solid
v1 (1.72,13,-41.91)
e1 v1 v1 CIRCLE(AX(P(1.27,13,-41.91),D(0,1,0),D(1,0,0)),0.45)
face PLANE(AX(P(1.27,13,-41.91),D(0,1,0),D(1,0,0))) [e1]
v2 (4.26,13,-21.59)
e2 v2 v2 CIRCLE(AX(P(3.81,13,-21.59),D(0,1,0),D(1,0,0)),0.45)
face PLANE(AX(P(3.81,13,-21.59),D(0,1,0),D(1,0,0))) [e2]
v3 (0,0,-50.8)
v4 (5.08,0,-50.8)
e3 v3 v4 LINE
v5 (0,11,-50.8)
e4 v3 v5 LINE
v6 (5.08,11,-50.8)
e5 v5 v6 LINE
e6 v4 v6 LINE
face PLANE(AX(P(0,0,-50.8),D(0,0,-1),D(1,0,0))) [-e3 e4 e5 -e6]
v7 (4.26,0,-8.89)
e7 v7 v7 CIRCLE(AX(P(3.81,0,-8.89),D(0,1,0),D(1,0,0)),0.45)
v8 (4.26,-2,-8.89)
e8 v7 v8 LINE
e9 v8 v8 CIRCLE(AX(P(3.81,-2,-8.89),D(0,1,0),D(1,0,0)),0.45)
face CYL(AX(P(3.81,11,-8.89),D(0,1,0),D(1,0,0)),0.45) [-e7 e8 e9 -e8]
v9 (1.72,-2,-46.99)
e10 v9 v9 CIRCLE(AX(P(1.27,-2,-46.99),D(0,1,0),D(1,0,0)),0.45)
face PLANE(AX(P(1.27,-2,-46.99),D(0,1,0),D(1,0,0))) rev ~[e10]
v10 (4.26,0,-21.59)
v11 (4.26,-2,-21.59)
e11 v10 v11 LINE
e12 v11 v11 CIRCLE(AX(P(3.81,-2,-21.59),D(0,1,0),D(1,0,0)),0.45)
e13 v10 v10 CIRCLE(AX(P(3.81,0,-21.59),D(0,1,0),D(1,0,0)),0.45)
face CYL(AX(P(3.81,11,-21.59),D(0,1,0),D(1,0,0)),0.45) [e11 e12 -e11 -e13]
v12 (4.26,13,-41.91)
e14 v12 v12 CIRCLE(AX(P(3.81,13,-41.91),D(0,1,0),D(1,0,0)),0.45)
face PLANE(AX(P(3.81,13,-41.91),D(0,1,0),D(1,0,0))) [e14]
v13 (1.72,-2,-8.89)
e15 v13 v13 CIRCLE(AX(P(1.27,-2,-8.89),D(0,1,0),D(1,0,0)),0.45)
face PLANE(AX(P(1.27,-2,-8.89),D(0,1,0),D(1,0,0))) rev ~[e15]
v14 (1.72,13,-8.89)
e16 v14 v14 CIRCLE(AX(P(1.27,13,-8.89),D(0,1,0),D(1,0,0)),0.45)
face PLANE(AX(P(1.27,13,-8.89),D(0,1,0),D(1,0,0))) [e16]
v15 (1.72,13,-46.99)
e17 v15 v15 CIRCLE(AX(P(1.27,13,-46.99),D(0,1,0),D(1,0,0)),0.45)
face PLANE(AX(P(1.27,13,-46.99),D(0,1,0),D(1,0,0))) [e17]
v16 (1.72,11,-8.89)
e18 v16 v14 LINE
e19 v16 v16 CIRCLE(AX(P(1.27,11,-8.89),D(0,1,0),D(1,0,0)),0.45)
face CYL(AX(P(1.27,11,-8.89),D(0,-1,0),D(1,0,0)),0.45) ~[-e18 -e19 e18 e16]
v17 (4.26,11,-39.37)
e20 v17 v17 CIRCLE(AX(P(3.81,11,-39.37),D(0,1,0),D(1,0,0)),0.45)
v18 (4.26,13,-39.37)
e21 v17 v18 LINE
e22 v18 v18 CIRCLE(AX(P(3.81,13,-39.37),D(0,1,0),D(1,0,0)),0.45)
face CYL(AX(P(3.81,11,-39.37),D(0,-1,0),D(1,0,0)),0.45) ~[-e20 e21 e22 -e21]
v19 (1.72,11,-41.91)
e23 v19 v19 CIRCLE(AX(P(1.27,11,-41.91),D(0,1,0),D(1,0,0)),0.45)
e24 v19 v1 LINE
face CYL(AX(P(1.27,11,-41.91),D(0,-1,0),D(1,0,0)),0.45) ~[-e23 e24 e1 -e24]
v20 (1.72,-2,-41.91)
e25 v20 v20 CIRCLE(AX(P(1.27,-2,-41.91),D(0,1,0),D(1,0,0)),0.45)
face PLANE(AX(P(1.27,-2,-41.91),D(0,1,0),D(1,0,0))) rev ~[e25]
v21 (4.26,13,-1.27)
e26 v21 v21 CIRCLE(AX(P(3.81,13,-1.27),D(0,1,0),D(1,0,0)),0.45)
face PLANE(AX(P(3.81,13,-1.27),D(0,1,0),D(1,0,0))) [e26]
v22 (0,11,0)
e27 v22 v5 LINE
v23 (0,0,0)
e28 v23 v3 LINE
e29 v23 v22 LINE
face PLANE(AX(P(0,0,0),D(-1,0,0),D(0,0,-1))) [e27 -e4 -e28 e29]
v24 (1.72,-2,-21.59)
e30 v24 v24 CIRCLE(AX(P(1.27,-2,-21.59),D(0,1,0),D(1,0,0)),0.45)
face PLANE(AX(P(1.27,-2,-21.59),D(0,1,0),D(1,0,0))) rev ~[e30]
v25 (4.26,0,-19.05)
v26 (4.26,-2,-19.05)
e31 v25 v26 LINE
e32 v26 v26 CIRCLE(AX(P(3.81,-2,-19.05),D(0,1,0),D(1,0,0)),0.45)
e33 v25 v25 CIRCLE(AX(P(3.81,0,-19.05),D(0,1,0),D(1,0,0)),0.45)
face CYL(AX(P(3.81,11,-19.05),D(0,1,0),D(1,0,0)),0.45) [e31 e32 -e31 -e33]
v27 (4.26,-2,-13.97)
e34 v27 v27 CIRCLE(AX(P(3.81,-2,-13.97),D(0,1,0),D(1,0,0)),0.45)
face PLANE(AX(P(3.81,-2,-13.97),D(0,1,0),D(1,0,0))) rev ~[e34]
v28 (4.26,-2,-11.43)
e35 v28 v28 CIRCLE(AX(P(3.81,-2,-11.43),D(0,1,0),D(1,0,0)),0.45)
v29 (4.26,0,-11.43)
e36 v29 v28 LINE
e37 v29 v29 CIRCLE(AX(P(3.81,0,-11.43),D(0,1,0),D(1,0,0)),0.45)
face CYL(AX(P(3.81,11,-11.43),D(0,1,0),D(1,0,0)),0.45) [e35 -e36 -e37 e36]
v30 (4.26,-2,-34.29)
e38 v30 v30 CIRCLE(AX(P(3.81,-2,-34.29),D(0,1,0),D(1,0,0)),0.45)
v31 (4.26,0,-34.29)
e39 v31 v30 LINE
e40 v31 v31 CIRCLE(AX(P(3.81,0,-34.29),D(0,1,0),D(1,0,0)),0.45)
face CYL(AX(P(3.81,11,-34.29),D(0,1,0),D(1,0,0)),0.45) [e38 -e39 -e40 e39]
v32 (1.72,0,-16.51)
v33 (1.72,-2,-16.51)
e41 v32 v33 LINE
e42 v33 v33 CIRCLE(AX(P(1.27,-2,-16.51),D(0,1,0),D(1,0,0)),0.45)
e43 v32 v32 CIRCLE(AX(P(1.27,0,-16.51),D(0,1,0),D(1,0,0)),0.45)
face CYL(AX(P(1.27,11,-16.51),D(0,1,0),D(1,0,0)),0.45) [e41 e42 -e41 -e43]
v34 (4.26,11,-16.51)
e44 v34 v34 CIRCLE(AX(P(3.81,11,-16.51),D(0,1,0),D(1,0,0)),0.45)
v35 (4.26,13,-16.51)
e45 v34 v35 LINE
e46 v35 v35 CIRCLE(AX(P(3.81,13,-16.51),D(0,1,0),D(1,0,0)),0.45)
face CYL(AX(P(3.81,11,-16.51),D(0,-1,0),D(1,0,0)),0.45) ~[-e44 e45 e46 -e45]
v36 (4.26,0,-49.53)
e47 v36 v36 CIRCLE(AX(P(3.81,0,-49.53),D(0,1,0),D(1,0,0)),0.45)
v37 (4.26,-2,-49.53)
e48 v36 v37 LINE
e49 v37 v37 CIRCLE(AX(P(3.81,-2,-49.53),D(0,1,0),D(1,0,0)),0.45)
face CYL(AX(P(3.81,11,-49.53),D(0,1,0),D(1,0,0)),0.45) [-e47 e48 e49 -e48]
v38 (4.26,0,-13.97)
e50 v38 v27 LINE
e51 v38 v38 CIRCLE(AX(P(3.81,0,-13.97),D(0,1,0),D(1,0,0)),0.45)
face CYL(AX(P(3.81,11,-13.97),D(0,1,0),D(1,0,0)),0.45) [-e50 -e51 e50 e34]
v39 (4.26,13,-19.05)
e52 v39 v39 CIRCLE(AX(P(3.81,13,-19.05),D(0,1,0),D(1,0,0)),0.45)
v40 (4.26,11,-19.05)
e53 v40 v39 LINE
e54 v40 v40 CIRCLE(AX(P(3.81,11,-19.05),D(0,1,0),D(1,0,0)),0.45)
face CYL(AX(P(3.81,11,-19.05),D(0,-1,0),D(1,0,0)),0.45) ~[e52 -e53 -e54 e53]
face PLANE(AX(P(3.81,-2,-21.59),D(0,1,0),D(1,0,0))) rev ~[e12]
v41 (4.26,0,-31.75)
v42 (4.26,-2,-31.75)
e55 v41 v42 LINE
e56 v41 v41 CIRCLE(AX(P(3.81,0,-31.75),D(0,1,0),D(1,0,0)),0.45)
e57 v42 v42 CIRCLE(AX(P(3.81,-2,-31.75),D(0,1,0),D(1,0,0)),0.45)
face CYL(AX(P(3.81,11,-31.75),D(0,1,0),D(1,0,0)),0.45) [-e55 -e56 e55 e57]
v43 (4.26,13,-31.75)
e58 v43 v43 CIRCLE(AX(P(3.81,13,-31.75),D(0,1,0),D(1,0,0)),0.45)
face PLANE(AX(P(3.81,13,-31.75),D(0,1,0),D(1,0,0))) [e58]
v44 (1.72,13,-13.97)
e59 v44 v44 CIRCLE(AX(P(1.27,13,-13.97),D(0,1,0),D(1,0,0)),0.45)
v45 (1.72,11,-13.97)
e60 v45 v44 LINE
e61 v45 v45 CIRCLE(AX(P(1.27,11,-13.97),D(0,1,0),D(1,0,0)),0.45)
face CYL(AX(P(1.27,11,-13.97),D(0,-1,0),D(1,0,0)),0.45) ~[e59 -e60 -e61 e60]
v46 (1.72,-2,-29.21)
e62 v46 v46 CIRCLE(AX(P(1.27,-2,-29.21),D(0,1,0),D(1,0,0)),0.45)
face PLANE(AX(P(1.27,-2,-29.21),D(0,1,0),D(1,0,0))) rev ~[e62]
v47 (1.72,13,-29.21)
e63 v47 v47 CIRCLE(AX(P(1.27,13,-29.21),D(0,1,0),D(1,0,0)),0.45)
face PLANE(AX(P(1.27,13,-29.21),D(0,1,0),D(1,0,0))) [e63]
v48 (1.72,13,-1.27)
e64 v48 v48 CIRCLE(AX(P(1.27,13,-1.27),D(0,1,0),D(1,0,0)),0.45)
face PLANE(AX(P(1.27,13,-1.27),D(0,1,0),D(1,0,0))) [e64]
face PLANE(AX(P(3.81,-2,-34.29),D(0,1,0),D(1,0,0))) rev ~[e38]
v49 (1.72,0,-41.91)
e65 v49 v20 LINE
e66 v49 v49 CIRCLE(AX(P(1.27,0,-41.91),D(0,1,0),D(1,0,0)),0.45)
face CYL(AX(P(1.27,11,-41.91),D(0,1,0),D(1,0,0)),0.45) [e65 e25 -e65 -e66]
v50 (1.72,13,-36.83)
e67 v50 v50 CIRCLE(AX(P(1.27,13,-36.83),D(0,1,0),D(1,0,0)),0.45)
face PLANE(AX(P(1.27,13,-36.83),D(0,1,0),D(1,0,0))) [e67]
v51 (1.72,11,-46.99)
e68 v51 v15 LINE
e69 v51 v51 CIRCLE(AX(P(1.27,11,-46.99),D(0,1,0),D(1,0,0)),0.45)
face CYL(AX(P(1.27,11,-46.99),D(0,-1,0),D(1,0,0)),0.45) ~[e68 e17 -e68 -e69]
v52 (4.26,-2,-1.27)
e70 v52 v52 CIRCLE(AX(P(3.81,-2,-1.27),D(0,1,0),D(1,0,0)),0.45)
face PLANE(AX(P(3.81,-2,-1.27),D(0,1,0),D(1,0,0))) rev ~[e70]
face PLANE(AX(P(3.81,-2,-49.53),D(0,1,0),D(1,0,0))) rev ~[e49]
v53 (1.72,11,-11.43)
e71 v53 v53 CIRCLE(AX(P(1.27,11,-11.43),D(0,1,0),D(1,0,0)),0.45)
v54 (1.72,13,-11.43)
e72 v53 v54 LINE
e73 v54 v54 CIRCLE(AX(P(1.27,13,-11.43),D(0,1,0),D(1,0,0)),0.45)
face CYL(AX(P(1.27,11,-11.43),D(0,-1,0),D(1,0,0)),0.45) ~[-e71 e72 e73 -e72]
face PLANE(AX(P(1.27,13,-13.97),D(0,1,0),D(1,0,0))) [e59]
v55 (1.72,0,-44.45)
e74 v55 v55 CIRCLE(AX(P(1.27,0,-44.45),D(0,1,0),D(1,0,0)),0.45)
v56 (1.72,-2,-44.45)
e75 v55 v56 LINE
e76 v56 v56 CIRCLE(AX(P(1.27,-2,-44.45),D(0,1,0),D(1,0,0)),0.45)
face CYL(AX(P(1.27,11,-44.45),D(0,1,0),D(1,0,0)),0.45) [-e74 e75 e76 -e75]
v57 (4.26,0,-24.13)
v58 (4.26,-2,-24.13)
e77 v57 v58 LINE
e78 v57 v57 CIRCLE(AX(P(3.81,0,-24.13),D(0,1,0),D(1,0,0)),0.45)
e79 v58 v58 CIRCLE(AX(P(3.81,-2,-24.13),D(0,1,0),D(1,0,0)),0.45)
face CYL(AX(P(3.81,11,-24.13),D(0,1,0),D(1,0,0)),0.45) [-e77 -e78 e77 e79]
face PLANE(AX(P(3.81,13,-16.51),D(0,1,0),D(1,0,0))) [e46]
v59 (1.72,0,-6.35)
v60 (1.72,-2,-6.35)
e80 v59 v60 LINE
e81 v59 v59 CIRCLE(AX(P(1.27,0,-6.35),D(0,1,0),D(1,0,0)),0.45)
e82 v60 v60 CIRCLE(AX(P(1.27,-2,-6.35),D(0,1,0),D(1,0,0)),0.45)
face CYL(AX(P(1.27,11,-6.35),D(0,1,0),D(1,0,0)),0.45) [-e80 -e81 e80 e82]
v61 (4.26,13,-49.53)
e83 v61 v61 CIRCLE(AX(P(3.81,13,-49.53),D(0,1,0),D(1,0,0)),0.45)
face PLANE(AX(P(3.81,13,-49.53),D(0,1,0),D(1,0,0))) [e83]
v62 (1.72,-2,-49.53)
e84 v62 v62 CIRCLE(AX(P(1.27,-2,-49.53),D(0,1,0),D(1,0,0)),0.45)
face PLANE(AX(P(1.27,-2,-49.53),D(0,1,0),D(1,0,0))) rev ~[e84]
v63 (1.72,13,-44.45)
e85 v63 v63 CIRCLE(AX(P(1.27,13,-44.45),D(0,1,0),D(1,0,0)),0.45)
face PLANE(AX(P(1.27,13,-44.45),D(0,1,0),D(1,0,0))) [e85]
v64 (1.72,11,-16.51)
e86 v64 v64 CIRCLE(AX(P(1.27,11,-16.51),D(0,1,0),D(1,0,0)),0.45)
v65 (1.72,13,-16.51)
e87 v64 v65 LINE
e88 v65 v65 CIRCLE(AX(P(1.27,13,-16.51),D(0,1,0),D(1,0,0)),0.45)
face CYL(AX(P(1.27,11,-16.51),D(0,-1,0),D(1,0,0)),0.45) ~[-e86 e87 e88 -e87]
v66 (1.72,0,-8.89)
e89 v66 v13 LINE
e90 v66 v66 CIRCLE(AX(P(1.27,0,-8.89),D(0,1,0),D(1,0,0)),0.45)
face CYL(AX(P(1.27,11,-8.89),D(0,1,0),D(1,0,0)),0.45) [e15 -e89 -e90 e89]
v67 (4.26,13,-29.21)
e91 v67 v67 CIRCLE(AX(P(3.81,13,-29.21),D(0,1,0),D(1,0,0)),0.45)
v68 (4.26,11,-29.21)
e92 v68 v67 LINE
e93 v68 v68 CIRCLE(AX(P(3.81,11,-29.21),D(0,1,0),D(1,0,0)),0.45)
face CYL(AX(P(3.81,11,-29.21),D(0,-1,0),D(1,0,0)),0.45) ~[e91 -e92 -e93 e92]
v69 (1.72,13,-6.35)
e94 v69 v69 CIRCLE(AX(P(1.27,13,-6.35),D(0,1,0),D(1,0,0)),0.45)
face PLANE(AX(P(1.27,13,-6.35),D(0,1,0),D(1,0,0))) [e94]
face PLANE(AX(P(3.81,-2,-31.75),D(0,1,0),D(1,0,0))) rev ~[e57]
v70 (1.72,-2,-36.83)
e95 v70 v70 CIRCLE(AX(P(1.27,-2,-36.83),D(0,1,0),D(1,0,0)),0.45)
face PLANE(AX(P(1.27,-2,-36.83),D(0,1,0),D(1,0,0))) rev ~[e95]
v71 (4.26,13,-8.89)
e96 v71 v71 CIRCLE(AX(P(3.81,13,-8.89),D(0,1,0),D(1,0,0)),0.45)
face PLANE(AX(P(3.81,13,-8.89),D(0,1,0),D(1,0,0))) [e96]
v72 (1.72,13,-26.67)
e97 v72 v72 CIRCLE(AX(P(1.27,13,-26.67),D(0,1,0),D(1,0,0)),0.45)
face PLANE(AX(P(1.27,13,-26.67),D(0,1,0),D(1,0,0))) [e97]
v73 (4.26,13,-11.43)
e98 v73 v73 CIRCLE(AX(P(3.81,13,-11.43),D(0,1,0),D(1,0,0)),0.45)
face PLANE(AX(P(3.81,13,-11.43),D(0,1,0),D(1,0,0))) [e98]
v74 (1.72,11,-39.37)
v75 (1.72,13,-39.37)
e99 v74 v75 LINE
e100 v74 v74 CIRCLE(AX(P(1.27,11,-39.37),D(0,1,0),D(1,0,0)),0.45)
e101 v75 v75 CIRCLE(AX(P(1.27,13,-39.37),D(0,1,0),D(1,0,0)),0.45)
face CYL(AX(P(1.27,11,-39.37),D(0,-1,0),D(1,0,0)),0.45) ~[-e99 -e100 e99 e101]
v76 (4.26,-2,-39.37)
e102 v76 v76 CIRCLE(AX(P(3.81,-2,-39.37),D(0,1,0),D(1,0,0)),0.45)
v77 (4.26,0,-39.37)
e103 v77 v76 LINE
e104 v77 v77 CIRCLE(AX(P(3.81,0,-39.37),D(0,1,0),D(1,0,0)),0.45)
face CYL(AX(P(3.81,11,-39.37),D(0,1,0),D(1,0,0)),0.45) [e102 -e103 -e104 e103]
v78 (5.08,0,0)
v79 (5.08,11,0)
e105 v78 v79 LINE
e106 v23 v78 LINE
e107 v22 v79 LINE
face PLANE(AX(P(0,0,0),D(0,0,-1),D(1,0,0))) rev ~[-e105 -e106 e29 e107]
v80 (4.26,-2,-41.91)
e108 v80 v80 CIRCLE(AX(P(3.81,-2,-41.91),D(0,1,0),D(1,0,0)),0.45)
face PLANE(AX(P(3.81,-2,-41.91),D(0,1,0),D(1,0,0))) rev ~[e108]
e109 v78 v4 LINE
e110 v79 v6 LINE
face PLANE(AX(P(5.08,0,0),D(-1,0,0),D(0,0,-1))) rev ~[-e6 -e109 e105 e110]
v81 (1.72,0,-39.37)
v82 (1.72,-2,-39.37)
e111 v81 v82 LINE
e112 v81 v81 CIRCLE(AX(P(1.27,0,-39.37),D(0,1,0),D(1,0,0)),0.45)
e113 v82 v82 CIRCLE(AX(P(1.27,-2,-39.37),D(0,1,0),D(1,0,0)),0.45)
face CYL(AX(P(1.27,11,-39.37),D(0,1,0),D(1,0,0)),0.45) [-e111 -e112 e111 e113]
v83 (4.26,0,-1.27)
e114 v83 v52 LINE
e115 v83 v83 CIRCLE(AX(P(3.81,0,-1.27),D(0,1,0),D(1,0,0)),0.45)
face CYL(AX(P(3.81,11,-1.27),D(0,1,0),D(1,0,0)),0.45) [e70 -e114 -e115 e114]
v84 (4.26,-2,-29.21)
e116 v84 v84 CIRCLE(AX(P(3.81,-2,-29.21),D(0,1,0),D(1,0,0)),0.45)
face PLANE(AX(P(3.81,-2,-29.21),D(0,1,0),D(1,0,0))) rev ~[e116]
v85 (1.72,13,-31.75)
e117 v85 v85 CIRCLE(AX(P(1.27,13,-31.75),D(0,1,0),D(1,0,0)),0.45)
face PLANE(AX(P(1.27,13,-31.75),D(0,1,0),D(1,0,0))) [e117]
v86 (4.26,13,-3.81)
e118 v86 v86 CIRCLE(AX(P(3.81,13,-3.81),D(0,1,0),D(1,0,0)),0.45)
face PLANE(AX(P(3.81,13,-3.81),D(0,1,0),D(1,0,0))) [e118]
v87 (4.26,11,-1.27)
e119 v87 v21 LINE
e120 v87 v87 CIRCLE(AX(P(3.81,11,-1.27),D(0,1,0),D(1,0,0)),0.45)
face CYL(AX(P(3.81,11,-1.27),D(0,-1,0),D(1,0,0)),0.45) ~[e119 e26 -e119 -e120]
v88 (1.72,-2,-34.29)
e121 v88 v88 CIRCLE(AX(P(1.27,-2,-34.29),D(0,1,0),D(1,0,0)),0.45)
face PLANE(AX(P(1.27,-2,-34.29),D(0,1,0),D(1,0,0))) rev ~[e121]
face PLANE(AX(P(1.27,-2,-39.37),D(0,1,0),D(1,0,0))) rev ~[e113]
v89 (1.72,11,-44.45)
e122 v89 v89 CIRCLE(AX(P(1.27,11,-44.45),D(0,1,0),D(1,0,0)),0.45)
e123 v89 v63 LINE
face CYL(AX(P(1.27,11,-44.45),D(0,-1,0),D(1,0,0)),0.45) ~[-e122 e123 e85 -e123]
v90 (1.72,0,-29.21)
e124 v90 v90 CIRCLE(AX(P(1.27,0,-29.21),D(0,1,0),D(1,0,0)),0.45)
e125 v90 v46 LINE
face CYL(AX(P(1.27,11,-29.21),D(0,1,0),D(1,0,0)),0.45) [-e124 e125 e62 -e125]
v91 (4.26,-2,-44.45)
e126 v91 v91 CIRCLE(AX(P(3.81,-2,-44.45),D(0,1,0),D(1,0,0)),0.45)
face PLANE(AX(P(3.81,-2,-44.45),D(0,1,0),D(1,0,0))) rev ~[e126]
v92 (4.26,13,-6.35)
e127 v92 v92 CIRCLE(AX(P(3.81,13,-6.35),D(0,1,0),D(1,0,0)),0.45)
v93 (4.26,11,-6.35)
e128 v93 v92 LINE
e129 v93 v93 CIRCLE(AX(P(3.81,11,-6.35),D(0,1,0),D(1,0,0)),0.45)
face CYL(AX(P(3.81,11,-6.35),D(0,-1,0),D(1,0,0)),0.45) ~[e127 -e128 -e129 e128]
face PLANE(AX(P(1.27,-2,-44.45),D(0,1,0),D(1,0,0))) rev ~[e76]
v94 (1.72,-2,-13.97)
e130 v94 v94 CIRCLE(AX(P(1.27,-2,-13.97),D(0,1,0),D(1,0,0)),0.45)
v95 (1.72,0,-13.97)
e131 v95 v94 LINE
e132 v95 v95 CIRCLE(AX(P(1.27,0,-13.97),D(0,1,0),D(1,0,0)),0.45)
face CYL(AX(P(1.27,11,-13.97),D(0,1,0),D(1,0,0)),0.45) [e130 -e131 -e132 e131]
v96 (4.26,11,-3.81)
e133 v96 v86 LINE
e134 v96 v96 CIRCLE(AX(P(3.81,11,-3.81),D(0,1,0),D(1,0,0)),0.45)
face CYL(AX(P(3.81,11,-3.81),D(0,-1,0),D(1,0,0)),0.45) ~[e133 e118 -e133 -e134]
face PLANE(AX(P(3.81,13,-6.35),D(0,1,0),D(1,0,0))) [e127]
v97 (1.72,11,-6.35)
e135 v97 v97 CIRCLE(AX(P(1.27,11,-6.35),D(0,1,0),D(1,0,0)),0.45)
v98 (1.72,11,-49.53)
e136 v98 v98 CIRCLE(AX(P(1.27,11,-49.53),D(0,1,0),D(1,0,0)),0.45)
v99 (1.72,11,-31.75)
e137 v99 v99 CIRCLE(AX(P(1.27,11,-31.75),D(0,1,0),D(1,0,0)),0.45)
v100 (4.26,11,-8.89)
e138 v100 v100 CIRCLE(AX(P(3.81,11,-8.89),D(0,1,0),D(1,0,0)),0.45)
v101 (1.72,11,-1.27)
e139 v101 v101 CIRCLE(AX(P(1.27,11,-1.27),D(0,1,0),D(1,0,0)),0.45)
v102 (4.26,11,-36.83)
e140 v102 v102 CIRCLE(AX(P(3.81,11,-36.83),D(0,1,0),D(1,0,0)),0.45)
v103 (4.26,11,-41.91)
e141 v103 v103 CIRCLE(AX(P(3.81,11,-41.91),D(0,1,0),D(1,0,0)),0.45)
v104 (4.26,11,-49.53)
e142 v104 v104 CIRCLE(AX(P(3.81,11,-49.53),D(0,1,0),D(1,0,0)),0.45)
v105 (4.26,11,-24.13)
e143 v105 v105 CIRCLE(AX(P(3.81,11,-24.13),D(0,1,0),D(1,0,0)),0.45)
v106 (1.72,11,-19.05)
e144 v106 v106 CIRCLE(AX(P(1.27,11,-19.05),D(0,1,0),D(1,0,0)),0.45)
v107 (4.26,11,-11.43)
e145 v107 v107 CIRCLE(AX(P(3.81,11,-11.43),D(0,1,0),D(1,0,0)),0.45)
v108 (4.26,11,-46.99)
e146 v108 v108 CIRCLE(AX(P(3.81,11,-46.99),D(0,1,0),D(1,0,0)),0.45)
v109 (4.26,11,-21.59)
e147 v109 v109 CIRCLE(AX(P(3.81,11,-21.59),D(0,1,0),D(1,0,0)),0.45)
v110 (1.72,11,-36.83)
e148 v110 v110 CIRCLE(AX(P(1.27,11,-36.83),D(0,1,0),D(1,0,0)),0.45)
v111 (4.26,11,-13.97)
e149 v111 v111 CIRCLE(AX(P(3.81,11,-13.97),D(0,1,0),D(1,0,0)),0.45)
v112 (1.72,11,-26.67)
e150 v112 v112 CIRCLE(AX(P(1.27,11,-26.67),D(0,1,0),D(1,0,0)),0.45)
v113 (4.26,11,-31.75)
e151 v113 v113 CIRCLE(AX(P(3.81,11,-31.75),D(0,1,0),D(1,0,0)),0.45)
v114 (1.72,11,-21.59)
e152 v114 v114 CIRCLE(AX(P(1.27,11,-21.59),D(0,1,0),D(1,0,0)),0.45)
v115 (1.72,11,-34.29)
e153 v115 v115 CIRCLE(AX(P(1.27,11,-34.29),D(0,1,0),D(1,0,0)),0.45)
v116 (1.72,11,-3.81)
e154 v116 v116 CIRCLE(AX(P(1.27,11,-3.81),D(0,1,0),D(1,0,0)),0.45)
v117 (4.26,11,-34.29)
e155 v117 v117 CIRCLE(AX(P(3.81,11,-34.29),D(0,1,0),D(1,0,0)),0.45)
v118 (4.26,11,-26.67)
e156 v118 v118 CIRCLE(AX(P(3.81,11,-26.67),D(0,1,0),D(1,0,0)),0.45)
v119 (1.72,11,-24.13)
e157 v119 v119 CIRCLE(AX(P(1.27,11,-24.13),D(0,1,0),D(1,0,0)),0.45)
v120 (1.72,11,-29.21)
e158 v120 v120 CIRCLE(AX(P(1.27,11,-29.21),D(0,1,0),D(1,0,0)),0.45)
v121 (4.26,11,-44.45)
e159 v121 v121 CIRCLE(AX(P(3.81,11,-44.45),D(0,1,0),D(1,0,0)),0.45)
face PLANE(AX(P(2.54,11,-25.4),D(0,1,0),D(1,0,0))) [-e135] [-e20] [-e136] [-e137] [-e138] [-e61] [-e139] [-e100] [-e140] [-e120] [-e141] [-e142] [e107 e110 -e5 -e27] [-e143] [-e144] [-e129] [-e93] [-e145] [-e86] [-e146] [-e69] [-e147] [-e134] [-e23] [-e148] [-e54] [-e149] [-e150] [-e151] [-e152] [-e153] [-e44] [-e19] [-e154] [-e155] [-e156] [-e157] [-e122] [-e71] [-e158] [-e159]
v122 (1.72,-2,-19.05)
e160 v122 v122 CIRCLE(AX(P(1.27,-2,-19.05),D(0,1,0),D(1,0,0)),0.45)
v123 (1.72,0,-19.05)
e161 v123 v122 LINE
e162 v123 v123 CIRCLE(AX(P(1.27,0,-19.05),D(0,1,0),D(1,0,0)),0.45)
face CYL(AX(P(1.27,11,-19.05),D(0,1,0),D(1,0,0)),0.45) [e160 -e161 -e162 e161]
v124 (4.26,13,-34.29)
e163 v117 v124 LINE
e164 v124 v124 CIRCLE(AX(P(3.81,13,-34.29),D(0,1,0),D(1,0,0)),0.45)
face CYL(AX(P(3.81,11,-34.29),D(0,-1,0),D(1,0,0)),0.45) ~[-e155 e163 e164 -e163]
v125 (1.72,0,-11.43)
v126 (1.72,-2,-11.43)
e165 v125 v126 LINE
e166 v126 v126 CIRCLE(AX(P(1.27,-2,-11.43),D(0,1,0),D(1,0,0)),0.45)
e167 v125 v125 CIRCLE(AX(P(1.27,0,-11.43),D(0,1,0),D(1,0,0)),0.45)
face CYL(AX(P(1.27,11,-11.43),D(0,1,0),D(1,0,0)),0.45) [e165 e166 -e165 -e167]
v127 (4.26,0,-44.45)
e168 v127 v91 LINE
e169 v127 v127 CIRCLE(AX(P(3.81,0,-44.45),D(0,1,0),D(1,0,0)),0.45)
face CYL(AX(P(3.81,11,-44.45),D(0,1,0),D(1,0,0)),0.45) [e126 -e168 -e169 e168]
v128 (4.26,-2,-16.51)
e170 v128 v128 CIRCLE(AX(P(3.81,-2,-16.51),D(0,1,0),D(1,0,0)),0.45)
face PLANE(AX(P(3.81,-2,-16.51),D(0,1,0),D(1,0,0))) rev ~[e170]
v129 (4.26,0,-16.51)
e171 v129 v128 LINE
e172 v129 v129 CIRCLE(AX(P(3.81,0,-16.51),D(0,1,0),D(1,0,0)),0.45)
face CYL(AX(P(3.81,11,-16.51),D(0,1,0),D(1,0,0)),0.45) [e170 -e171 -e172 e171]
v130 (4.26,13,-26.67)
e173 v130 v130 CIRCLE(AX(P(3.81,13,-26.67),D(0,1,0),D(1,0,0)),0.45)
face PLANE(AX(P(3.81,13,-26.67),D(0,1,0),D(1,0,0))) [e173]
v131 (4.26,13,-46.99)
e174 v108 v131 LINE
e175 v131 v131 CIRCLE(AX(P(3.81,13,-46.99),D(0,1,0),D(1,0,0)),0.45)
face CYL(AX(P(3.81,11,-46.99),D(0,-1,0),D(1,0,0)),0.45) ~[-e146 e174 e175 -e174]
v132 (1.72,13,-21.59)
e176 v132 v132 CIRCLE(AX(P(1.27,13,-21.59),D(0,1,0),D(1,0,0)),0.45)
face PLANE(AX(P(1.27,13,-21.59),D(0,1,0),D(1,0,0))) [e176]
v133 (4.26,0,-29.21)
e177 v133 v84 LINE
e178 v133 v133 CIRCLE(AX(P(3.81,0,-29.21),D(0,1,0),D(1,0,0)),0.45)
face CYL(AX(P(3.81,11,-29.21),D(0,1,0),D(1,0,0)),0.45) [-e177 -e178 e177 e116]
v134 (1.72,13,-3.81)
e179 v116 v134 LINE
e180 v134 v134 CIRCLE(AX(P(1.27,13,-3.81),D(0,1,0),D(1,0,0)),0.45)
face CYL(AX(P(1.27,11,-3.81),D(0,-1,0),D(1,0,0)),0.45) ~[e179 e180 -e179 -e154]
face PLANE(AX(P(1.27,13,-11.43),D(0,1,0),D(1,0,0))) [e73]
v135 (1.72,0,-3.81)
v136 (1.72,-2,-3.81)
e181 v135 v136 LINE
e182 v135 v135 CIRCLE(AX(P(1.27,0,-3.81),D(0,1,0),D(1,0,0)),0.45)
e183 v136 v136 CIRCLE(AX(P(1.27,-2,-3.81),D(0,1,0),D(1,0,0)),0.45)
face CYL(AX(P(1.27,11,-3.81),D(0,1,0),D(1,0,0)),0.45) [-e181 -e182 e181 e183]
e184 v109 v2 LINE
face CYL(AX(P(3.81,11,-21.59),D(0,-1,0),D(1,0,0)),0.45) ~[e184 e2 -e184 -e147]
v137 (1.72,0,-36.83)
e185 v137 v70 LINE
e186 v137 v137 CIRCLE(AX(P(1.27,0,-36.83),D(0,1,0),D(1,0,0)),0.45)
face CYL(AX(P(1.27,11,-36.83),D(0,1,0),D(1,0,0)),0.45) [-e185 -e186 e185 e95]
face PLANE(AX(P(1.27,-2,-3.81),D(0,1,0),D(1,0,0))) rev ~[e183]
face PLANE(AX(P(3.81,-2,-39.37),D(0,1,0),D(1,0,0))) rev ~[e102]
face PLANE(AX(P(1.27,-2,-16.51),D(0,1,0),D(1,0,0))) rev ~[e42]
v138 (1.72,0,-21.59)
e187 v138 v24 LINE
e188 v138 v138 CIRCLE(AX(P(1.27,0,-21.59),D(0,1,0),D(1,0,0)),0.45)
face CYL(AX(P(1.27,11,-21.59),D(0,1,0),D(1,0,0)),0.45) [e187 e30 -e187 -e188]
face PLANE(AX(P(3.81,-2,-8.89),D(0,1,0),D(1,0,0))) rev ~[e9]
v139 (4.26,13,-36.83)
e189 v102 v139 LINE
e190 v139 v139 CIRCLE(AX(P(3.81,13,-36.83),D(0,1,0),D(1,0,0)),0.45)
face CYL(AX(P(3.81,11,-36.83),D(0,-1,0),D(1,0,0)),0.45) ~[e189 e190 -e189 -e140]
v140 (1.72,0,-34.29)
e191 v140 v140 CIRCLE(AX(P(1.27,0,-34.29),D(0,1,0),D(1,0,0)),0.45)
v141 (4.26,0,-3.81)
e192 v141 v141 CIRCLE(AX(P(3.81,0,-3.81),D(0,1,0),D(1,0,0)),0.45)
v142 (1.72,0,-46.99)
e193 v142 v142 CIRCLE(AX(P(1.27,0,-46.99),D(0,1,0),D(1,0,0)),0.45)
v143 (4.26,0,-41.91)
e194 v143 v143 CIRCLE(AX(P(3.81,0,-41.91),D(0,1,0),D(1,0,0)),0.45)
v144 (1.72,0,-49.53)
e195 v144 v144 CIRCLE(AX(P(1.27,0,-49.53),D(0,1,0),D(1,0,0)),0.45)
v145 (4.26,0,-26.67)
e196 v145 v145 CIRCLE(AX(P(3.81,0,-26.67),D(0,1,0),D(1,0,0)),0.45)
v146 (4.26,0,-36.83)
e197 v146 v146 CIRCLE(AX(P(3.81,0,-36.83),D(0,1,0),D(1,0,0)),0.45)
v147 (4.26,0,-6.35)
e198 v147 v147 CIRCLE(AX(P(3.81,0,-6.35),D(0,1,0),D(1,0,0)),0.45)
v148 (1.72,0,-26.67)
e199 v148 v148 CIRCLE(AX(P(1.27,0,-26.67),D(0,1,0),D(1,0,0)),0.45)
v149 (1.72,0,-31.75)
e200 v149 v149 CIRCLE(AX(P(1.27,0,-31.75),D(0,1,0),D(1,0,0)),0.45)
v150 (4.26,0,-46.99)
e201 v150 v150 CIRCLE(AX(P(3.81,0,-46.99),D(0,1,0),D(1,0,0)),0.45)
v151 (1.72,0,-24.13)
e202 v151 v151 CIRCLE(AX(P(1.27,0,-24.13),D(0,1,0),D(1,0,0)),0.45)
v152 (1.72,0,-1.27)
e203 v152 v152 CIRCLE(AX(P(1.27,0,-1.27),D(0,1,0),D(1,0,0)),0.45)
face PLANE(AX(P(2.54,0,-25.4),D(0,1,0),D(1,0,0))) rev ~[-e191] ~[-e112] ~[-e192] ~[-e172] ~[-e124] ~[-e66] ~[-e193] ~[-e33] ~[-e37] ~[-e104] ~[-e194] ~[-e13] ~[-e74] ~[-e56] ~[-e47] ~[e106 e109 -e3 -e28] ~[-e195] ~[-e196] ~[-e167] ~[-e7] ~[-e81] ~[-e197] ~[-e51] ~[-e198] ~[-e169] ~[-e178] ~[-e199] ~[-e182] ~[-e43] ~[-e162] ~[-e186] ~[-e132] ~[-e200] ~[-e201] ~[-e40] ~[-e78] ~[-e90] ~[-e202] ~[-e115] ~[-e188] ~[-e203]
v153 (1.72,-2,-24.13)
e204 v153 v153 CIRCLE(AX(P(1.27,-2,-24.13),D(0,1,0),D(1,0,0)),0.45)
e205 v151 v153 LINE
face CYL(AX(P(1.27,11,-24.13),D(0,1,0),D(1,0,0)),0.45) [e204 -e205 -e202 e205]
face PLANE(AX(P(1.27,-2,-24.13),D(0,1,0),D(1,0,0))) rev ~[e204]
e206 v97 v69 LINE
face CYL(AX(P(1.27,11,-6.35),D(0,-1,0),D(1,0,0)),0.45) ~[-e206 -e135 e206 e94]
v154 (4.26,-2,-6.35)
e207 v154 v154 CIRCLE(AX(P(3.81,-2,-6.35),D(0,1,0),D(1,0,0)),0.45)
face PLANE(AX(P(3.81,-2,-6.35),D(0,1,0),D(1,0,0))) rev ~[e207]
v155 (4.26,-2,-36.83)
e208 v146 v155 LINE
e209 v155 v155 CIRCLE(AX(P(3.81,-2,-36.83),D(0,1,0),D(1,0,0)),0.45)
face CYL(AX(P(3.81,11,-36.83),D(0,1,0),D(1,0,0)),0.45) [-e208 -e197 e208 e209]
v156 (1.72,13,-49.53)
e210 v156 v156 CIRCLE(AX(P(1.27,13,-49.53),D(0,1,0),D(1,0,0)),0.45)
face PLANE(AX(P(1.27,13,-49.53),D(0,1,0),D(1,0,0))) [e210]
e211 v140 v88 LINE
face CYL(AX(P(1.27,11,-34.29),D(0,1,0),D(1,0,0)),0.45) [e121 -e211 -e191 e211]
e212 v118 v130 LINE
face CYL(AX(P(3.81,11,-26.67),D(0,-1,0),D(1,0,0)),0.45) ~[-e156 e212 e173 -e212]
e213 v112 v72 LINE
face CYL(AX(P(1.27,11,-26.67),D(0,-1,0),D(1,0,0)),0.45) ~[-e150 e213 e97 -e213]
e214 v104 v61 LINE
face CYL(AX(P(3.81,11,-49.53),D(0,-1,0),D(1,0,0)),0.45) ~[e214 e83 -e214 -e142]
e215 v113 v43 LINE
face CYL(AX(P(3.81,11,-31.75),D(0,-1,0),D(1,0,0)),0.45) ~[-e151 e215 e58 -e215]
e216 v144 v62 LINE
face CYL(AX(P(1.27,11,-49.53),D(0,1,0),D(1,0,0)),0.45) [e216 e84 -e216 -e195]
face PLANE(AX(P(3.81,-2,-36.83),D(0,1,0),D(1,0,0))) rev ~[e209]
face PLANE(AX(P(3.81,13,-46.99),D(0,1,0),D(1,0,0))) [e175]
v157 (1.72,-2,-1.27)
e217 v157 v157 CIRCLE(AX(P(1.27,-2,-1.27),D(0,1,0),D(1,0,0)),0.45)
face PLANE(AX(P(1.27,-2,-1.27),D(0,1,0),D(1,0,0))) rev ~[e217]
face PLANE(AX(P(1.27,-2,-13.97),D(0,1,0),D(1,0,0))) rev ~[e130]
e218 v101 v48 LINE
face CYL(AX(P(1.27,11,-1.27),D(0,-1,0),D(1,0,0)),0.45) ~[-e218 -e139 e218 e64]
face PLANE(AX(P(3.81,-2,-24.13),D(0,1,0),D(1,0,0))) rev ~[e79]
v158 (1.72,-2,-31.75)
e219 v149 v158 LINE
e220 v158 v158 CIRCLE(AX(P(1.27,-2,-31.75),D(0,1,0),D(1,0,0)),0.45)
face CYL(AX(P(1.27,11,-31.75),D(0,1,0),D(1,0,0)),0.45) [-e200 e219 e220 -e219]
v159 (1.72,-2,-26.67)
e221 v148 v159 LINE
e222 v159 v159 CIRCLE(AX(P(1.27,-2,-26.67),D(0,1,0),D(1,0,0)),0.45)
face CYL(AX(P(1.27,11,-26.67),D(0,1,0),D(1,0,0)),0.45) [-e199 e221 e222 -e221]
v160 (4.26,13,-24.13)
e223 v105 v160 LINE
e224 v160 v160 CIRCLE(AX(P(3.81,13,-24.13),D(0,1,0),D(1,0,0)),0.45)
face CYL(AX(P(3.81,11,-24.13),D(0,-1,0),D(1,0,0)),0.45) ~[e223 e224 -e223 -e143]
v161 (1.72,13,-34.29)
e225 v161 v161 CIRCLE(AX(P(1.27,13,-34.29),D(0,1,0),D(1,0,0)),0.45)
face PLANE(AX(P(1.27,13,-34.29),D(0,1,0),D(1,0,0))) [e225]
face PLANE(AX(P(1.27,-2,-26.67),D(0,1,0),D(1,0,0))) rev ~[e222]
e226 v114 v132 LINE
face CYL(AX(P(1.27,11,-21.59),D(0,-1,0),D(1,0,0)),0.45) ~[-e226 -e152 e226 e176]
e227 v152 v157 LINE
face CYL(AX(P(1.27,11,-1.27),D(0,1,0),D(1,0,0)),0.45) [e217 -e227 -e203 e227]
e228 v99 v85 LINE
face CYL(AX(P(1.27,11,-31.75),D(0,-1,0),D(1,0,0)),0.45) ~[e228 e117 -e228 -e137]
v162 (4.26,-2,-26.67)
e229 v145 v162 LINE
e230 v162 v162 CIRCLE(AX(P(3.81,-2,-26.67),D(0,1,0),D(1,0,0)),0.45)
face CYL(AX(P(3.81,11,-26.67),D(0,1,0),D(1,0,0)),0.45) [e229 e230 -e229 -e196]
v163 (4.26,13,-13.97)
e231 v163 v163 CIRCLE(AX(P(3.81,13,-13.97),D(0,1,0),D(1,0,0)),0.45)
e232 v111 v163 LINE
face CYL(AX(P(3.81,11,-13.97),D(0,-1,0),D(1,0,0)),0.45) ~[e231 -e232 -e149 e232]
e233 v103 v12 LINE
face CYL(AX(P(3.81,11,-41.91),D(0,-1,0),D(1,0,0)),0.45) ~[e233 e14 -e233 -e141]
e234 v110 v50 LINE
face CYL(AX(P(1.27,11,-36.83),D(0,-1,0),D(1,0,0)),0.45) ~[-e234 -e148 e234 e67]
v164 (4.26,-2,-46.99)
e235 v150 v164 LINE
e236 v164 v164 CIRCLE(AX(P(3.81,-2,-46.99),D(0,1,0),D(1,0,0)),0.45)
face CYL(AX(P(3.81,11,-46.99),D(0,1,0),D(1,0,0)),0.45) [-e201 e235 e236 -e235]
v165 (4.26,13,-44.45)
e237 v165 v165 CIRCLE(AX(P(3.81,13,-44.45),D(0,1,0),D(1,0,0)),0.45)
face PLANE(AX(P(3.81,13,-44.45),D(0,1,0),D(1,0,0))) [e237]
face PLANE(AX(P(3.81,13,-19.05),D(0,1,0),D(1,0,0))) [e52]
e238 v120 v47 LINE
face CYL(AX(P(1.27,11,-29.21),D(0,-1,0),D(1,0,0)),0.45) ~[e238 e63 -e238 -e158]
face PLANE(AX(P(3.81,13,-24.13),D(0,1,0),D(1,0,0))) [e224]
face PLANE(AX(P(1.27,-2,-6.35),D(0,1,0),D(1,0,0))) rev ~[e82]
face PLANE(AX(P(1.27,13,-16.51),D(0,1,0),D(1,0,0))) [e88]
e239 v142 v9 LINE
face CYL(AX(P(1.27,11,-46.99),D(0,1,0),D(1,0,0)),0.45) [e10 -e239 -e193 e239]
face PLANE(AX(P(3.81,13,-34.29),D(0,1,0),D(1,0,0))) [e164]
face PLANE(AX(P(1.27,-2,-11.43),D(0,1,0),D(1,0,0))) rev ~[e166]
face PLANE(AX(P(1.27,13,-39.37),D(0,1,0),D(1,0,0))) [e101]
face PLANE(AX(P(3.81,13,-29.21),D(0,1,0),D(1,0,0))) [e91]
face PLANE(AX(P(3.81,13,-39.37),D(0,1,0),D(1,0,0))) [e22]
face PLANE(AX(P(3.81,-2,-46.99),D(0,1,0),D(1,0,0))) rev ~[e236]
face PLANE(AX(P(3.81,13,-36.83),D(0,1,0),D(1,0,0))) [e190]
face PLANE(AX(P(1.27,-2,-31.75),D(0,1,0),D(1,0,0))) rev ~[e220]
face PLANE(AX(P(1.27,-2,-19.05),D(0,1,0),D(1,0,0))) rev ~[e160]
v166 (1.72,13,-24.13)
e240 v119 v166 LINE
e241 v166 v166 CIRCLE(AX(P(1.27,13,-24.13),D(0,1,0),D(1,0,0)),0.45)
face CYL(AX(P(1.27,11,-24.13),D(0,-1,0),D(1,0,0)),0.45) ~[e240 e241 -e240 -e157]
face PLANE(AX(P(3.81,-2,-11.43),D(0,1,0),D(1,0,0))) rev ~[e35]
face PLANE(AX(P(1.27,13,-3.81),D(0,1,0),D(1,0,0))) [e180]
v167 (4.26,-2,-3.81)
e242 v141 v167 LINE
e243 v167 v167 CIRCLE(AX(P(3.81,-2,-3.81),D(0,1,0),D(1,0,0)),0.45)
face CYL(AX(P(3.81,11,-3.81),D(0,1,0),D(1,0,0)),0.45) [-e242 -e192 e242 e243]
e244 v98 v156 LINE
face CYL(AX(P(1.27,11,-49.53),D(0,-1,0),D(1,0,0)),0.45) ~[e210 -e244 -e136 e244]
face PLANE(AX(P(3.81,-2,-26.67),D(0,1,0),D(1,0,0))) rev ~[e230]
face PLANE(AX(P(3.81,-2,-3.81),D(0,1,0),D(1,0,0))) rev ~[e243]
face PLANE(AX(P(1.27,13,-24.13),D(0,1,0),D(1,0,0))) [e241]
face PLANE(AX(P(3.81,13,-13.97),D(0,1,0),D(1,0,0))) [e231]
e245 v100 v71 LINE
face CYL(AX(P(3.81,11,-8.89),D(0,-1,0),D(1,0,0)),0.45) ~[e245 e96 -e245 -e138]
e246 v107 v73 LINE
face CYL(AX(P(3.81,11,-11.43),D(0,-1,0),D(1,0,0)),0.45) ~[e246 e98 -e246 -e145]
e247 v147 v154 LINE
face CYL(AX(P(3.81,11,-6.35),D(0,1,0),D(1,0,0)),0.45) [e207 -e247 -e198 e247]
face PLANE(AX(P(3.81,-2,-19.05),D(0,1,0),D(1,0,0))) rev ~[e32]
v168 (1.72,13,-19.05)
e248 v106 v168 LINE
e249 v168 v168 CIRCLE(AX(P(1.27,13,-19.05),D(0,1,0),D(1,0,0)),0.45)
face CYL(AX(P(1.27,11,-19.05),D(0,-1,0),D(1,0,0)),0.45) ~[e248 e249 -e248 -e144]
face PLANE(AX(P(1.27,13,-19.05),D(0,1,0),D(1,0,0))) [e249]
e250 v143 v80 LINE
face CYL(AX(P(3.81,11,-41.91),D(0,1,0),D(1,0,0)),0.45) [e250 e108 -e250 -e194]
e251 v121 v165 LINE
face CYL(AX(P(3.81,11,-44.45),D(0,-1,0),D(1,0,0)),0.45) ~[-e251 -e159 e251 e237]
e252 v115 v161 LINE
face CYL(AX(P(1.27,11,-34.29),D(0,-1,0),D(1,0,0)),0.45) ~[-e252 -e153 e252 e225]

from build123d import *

# Parameters (mm, degrees)
SKIZZE1_W                            = 5.08
SKIZZE1_H                            = 50.8
AUFSATZ_LINEAR_AUSTRAGEN1_DEPTH      = 11
SKIZZE2_R                            = 0.45
AUFSATZ_LINEAR_AUSTRAGEN2_DEPTH      = 2
AUFSATZ_LINEAR_AUSTRAGEN2_DEPTH_BACK = 13


with BuildPart() as part:
    # Skizze1 → Aufsatz-Linear austragen1 (new body)
    with BuildSketch(Plane(origin=(0, 0, 0), x_dir=(1, 0, 0), z_dir=(0, 1, 0))):
        with Locations((2.54, 25.4)):
            Rectangle(SKIZZE1_W, SKIZZE1_H)
    extrude(amount=AUFSATZ_LINEAR_AUSTRAGEN1_DEPTH)

    # Skizze2 → Aufsatz-Linear austragen2 (add, two sides)
    with BuildSketch(Plane(origin=(0, 11, 0), x_dir=(1, 0, 0), z_dir=(0, 1, 0))) as aufsatz_linear_austragen2_sk:
        with Locations((1.27, 1.27)):
            Circle(SKIZZE2_R)
        with Locations((3.81, 1.27)):
            Circle(SKIZZE2_R)
        with Locations((3.81, 3.81)):
            Circle(SKIZZE2_R)
        with Locations((3.81, 6.35)):
            Circle(SKIZZE2_R)
        with Locations((3.81, 8.89)):
            Circle(SKIZZE2_R)
        with Locations((3.81, 11.43)):
            Circle(SKIZZE2_R)
        with Locations((3.81, 13.97)):
            Circle(SKIZZE2_R)
        with Locations((3.81, 16.51)):
            Circle(SKIZZE2_R)
        with Locations((3.81, 19.05)):
            Circle(SKIZZE2_R)
        with Locations((3.81, 21.59)):
            Circle(SKIZZE2_R)
        with Locations((3.81, 24.13)):
            Circle(SKIZZE2_R)
        with Locations((1.27, 3.81)):
            Circle(SKIZZE2_R)
        with Locations((1.27, 6.35)):
            Circle(SKIZZE2_R)
        with Locations((1.27, 8.89)):
            Circle(SKIZZE2_R)
        with Locations((1.27, 11.43)):
            Circle(SKIZZE2_R)
        with Locations((1.27, 13.97)):
            Circle(SKIZZE2_R)
        with Locations((1.27, 16.51)):
            Circle(SKIZZE2_R)
        with Locations((1.27, 19.05)):
            Circle(SKIZZE2_R)
        with Locations((1.27, 21.59)):
            Circle(SKIZZE2_R)
        with Locations((1.27, 24.13)):
            Circle(SKIZZE2_R)
        with Locations((1.27, 26.67)):
            Circle(SKIZZE2_R)
        with Locations((3.81, 26.67)):
            Circle(SKIZZE2_R)
        with Locations((1.27, 29.21)):
            Circle(SKIZZE2_R)
        with Locations((3.81, 29.21)):
            Circle(SKIZZE2_R)
        with Locations((1.27, 31.75)):
            Circle(SKIZZE2_R)
        with Locations((3.81, 31.75)):
            Circle(SKIZZE2_R)
        with Locations((1.27, 34.29)):
            Circle(SKIZZE2_R)
        with Locations((3.81, 34.29)):
            Circle(SKIZZE2_R)
        with Locations((1.27, 36.83)):
            Circle(SKIZZE2_R)
        with Locations((3.81, 36.83)):
            Circle(SKIZZE2_R)
        with Locations((1.27, 39.37)):
            Circle(SKIZZE2_R)
        with Locations((3.81, 39.37)):
            Circle(SKIZZE2_R)
        with Locations((1.27, 41.91)):
            Circle(SKIZZE2_R)
        with Locations((3.81, 41.91)):
            Circle(SKIZZE2_R)
        with Locations((1.27, 44.45)):
            Circle(SKIZZE2_R)
        with Locations((3.81, 44.45)):
            Circle(SKIZZE2_R)
        with Locations((1.27, 46.99)):
            Circle(SKIZZE2_R)
        with Locations((3.81, 46.99)):
            Circle(SKIZZE2_R)
        with Locations((1.27, 49.53)):
            Circle(SKIZZE2_R)
        with Locations((3.81, 49.53)):
            Circle(SKIZZE2_R)
    extrude(amount=AUFSATZ_LINEAR_AUSTRAGEN2_DEPTH)
    extrude(aufsatz_linear_austragen2_sk.sketch, amount=-AUFSATZ_LINEAR_AUSTRAGEN2_DEPTH_BACK)


solid = part.part
